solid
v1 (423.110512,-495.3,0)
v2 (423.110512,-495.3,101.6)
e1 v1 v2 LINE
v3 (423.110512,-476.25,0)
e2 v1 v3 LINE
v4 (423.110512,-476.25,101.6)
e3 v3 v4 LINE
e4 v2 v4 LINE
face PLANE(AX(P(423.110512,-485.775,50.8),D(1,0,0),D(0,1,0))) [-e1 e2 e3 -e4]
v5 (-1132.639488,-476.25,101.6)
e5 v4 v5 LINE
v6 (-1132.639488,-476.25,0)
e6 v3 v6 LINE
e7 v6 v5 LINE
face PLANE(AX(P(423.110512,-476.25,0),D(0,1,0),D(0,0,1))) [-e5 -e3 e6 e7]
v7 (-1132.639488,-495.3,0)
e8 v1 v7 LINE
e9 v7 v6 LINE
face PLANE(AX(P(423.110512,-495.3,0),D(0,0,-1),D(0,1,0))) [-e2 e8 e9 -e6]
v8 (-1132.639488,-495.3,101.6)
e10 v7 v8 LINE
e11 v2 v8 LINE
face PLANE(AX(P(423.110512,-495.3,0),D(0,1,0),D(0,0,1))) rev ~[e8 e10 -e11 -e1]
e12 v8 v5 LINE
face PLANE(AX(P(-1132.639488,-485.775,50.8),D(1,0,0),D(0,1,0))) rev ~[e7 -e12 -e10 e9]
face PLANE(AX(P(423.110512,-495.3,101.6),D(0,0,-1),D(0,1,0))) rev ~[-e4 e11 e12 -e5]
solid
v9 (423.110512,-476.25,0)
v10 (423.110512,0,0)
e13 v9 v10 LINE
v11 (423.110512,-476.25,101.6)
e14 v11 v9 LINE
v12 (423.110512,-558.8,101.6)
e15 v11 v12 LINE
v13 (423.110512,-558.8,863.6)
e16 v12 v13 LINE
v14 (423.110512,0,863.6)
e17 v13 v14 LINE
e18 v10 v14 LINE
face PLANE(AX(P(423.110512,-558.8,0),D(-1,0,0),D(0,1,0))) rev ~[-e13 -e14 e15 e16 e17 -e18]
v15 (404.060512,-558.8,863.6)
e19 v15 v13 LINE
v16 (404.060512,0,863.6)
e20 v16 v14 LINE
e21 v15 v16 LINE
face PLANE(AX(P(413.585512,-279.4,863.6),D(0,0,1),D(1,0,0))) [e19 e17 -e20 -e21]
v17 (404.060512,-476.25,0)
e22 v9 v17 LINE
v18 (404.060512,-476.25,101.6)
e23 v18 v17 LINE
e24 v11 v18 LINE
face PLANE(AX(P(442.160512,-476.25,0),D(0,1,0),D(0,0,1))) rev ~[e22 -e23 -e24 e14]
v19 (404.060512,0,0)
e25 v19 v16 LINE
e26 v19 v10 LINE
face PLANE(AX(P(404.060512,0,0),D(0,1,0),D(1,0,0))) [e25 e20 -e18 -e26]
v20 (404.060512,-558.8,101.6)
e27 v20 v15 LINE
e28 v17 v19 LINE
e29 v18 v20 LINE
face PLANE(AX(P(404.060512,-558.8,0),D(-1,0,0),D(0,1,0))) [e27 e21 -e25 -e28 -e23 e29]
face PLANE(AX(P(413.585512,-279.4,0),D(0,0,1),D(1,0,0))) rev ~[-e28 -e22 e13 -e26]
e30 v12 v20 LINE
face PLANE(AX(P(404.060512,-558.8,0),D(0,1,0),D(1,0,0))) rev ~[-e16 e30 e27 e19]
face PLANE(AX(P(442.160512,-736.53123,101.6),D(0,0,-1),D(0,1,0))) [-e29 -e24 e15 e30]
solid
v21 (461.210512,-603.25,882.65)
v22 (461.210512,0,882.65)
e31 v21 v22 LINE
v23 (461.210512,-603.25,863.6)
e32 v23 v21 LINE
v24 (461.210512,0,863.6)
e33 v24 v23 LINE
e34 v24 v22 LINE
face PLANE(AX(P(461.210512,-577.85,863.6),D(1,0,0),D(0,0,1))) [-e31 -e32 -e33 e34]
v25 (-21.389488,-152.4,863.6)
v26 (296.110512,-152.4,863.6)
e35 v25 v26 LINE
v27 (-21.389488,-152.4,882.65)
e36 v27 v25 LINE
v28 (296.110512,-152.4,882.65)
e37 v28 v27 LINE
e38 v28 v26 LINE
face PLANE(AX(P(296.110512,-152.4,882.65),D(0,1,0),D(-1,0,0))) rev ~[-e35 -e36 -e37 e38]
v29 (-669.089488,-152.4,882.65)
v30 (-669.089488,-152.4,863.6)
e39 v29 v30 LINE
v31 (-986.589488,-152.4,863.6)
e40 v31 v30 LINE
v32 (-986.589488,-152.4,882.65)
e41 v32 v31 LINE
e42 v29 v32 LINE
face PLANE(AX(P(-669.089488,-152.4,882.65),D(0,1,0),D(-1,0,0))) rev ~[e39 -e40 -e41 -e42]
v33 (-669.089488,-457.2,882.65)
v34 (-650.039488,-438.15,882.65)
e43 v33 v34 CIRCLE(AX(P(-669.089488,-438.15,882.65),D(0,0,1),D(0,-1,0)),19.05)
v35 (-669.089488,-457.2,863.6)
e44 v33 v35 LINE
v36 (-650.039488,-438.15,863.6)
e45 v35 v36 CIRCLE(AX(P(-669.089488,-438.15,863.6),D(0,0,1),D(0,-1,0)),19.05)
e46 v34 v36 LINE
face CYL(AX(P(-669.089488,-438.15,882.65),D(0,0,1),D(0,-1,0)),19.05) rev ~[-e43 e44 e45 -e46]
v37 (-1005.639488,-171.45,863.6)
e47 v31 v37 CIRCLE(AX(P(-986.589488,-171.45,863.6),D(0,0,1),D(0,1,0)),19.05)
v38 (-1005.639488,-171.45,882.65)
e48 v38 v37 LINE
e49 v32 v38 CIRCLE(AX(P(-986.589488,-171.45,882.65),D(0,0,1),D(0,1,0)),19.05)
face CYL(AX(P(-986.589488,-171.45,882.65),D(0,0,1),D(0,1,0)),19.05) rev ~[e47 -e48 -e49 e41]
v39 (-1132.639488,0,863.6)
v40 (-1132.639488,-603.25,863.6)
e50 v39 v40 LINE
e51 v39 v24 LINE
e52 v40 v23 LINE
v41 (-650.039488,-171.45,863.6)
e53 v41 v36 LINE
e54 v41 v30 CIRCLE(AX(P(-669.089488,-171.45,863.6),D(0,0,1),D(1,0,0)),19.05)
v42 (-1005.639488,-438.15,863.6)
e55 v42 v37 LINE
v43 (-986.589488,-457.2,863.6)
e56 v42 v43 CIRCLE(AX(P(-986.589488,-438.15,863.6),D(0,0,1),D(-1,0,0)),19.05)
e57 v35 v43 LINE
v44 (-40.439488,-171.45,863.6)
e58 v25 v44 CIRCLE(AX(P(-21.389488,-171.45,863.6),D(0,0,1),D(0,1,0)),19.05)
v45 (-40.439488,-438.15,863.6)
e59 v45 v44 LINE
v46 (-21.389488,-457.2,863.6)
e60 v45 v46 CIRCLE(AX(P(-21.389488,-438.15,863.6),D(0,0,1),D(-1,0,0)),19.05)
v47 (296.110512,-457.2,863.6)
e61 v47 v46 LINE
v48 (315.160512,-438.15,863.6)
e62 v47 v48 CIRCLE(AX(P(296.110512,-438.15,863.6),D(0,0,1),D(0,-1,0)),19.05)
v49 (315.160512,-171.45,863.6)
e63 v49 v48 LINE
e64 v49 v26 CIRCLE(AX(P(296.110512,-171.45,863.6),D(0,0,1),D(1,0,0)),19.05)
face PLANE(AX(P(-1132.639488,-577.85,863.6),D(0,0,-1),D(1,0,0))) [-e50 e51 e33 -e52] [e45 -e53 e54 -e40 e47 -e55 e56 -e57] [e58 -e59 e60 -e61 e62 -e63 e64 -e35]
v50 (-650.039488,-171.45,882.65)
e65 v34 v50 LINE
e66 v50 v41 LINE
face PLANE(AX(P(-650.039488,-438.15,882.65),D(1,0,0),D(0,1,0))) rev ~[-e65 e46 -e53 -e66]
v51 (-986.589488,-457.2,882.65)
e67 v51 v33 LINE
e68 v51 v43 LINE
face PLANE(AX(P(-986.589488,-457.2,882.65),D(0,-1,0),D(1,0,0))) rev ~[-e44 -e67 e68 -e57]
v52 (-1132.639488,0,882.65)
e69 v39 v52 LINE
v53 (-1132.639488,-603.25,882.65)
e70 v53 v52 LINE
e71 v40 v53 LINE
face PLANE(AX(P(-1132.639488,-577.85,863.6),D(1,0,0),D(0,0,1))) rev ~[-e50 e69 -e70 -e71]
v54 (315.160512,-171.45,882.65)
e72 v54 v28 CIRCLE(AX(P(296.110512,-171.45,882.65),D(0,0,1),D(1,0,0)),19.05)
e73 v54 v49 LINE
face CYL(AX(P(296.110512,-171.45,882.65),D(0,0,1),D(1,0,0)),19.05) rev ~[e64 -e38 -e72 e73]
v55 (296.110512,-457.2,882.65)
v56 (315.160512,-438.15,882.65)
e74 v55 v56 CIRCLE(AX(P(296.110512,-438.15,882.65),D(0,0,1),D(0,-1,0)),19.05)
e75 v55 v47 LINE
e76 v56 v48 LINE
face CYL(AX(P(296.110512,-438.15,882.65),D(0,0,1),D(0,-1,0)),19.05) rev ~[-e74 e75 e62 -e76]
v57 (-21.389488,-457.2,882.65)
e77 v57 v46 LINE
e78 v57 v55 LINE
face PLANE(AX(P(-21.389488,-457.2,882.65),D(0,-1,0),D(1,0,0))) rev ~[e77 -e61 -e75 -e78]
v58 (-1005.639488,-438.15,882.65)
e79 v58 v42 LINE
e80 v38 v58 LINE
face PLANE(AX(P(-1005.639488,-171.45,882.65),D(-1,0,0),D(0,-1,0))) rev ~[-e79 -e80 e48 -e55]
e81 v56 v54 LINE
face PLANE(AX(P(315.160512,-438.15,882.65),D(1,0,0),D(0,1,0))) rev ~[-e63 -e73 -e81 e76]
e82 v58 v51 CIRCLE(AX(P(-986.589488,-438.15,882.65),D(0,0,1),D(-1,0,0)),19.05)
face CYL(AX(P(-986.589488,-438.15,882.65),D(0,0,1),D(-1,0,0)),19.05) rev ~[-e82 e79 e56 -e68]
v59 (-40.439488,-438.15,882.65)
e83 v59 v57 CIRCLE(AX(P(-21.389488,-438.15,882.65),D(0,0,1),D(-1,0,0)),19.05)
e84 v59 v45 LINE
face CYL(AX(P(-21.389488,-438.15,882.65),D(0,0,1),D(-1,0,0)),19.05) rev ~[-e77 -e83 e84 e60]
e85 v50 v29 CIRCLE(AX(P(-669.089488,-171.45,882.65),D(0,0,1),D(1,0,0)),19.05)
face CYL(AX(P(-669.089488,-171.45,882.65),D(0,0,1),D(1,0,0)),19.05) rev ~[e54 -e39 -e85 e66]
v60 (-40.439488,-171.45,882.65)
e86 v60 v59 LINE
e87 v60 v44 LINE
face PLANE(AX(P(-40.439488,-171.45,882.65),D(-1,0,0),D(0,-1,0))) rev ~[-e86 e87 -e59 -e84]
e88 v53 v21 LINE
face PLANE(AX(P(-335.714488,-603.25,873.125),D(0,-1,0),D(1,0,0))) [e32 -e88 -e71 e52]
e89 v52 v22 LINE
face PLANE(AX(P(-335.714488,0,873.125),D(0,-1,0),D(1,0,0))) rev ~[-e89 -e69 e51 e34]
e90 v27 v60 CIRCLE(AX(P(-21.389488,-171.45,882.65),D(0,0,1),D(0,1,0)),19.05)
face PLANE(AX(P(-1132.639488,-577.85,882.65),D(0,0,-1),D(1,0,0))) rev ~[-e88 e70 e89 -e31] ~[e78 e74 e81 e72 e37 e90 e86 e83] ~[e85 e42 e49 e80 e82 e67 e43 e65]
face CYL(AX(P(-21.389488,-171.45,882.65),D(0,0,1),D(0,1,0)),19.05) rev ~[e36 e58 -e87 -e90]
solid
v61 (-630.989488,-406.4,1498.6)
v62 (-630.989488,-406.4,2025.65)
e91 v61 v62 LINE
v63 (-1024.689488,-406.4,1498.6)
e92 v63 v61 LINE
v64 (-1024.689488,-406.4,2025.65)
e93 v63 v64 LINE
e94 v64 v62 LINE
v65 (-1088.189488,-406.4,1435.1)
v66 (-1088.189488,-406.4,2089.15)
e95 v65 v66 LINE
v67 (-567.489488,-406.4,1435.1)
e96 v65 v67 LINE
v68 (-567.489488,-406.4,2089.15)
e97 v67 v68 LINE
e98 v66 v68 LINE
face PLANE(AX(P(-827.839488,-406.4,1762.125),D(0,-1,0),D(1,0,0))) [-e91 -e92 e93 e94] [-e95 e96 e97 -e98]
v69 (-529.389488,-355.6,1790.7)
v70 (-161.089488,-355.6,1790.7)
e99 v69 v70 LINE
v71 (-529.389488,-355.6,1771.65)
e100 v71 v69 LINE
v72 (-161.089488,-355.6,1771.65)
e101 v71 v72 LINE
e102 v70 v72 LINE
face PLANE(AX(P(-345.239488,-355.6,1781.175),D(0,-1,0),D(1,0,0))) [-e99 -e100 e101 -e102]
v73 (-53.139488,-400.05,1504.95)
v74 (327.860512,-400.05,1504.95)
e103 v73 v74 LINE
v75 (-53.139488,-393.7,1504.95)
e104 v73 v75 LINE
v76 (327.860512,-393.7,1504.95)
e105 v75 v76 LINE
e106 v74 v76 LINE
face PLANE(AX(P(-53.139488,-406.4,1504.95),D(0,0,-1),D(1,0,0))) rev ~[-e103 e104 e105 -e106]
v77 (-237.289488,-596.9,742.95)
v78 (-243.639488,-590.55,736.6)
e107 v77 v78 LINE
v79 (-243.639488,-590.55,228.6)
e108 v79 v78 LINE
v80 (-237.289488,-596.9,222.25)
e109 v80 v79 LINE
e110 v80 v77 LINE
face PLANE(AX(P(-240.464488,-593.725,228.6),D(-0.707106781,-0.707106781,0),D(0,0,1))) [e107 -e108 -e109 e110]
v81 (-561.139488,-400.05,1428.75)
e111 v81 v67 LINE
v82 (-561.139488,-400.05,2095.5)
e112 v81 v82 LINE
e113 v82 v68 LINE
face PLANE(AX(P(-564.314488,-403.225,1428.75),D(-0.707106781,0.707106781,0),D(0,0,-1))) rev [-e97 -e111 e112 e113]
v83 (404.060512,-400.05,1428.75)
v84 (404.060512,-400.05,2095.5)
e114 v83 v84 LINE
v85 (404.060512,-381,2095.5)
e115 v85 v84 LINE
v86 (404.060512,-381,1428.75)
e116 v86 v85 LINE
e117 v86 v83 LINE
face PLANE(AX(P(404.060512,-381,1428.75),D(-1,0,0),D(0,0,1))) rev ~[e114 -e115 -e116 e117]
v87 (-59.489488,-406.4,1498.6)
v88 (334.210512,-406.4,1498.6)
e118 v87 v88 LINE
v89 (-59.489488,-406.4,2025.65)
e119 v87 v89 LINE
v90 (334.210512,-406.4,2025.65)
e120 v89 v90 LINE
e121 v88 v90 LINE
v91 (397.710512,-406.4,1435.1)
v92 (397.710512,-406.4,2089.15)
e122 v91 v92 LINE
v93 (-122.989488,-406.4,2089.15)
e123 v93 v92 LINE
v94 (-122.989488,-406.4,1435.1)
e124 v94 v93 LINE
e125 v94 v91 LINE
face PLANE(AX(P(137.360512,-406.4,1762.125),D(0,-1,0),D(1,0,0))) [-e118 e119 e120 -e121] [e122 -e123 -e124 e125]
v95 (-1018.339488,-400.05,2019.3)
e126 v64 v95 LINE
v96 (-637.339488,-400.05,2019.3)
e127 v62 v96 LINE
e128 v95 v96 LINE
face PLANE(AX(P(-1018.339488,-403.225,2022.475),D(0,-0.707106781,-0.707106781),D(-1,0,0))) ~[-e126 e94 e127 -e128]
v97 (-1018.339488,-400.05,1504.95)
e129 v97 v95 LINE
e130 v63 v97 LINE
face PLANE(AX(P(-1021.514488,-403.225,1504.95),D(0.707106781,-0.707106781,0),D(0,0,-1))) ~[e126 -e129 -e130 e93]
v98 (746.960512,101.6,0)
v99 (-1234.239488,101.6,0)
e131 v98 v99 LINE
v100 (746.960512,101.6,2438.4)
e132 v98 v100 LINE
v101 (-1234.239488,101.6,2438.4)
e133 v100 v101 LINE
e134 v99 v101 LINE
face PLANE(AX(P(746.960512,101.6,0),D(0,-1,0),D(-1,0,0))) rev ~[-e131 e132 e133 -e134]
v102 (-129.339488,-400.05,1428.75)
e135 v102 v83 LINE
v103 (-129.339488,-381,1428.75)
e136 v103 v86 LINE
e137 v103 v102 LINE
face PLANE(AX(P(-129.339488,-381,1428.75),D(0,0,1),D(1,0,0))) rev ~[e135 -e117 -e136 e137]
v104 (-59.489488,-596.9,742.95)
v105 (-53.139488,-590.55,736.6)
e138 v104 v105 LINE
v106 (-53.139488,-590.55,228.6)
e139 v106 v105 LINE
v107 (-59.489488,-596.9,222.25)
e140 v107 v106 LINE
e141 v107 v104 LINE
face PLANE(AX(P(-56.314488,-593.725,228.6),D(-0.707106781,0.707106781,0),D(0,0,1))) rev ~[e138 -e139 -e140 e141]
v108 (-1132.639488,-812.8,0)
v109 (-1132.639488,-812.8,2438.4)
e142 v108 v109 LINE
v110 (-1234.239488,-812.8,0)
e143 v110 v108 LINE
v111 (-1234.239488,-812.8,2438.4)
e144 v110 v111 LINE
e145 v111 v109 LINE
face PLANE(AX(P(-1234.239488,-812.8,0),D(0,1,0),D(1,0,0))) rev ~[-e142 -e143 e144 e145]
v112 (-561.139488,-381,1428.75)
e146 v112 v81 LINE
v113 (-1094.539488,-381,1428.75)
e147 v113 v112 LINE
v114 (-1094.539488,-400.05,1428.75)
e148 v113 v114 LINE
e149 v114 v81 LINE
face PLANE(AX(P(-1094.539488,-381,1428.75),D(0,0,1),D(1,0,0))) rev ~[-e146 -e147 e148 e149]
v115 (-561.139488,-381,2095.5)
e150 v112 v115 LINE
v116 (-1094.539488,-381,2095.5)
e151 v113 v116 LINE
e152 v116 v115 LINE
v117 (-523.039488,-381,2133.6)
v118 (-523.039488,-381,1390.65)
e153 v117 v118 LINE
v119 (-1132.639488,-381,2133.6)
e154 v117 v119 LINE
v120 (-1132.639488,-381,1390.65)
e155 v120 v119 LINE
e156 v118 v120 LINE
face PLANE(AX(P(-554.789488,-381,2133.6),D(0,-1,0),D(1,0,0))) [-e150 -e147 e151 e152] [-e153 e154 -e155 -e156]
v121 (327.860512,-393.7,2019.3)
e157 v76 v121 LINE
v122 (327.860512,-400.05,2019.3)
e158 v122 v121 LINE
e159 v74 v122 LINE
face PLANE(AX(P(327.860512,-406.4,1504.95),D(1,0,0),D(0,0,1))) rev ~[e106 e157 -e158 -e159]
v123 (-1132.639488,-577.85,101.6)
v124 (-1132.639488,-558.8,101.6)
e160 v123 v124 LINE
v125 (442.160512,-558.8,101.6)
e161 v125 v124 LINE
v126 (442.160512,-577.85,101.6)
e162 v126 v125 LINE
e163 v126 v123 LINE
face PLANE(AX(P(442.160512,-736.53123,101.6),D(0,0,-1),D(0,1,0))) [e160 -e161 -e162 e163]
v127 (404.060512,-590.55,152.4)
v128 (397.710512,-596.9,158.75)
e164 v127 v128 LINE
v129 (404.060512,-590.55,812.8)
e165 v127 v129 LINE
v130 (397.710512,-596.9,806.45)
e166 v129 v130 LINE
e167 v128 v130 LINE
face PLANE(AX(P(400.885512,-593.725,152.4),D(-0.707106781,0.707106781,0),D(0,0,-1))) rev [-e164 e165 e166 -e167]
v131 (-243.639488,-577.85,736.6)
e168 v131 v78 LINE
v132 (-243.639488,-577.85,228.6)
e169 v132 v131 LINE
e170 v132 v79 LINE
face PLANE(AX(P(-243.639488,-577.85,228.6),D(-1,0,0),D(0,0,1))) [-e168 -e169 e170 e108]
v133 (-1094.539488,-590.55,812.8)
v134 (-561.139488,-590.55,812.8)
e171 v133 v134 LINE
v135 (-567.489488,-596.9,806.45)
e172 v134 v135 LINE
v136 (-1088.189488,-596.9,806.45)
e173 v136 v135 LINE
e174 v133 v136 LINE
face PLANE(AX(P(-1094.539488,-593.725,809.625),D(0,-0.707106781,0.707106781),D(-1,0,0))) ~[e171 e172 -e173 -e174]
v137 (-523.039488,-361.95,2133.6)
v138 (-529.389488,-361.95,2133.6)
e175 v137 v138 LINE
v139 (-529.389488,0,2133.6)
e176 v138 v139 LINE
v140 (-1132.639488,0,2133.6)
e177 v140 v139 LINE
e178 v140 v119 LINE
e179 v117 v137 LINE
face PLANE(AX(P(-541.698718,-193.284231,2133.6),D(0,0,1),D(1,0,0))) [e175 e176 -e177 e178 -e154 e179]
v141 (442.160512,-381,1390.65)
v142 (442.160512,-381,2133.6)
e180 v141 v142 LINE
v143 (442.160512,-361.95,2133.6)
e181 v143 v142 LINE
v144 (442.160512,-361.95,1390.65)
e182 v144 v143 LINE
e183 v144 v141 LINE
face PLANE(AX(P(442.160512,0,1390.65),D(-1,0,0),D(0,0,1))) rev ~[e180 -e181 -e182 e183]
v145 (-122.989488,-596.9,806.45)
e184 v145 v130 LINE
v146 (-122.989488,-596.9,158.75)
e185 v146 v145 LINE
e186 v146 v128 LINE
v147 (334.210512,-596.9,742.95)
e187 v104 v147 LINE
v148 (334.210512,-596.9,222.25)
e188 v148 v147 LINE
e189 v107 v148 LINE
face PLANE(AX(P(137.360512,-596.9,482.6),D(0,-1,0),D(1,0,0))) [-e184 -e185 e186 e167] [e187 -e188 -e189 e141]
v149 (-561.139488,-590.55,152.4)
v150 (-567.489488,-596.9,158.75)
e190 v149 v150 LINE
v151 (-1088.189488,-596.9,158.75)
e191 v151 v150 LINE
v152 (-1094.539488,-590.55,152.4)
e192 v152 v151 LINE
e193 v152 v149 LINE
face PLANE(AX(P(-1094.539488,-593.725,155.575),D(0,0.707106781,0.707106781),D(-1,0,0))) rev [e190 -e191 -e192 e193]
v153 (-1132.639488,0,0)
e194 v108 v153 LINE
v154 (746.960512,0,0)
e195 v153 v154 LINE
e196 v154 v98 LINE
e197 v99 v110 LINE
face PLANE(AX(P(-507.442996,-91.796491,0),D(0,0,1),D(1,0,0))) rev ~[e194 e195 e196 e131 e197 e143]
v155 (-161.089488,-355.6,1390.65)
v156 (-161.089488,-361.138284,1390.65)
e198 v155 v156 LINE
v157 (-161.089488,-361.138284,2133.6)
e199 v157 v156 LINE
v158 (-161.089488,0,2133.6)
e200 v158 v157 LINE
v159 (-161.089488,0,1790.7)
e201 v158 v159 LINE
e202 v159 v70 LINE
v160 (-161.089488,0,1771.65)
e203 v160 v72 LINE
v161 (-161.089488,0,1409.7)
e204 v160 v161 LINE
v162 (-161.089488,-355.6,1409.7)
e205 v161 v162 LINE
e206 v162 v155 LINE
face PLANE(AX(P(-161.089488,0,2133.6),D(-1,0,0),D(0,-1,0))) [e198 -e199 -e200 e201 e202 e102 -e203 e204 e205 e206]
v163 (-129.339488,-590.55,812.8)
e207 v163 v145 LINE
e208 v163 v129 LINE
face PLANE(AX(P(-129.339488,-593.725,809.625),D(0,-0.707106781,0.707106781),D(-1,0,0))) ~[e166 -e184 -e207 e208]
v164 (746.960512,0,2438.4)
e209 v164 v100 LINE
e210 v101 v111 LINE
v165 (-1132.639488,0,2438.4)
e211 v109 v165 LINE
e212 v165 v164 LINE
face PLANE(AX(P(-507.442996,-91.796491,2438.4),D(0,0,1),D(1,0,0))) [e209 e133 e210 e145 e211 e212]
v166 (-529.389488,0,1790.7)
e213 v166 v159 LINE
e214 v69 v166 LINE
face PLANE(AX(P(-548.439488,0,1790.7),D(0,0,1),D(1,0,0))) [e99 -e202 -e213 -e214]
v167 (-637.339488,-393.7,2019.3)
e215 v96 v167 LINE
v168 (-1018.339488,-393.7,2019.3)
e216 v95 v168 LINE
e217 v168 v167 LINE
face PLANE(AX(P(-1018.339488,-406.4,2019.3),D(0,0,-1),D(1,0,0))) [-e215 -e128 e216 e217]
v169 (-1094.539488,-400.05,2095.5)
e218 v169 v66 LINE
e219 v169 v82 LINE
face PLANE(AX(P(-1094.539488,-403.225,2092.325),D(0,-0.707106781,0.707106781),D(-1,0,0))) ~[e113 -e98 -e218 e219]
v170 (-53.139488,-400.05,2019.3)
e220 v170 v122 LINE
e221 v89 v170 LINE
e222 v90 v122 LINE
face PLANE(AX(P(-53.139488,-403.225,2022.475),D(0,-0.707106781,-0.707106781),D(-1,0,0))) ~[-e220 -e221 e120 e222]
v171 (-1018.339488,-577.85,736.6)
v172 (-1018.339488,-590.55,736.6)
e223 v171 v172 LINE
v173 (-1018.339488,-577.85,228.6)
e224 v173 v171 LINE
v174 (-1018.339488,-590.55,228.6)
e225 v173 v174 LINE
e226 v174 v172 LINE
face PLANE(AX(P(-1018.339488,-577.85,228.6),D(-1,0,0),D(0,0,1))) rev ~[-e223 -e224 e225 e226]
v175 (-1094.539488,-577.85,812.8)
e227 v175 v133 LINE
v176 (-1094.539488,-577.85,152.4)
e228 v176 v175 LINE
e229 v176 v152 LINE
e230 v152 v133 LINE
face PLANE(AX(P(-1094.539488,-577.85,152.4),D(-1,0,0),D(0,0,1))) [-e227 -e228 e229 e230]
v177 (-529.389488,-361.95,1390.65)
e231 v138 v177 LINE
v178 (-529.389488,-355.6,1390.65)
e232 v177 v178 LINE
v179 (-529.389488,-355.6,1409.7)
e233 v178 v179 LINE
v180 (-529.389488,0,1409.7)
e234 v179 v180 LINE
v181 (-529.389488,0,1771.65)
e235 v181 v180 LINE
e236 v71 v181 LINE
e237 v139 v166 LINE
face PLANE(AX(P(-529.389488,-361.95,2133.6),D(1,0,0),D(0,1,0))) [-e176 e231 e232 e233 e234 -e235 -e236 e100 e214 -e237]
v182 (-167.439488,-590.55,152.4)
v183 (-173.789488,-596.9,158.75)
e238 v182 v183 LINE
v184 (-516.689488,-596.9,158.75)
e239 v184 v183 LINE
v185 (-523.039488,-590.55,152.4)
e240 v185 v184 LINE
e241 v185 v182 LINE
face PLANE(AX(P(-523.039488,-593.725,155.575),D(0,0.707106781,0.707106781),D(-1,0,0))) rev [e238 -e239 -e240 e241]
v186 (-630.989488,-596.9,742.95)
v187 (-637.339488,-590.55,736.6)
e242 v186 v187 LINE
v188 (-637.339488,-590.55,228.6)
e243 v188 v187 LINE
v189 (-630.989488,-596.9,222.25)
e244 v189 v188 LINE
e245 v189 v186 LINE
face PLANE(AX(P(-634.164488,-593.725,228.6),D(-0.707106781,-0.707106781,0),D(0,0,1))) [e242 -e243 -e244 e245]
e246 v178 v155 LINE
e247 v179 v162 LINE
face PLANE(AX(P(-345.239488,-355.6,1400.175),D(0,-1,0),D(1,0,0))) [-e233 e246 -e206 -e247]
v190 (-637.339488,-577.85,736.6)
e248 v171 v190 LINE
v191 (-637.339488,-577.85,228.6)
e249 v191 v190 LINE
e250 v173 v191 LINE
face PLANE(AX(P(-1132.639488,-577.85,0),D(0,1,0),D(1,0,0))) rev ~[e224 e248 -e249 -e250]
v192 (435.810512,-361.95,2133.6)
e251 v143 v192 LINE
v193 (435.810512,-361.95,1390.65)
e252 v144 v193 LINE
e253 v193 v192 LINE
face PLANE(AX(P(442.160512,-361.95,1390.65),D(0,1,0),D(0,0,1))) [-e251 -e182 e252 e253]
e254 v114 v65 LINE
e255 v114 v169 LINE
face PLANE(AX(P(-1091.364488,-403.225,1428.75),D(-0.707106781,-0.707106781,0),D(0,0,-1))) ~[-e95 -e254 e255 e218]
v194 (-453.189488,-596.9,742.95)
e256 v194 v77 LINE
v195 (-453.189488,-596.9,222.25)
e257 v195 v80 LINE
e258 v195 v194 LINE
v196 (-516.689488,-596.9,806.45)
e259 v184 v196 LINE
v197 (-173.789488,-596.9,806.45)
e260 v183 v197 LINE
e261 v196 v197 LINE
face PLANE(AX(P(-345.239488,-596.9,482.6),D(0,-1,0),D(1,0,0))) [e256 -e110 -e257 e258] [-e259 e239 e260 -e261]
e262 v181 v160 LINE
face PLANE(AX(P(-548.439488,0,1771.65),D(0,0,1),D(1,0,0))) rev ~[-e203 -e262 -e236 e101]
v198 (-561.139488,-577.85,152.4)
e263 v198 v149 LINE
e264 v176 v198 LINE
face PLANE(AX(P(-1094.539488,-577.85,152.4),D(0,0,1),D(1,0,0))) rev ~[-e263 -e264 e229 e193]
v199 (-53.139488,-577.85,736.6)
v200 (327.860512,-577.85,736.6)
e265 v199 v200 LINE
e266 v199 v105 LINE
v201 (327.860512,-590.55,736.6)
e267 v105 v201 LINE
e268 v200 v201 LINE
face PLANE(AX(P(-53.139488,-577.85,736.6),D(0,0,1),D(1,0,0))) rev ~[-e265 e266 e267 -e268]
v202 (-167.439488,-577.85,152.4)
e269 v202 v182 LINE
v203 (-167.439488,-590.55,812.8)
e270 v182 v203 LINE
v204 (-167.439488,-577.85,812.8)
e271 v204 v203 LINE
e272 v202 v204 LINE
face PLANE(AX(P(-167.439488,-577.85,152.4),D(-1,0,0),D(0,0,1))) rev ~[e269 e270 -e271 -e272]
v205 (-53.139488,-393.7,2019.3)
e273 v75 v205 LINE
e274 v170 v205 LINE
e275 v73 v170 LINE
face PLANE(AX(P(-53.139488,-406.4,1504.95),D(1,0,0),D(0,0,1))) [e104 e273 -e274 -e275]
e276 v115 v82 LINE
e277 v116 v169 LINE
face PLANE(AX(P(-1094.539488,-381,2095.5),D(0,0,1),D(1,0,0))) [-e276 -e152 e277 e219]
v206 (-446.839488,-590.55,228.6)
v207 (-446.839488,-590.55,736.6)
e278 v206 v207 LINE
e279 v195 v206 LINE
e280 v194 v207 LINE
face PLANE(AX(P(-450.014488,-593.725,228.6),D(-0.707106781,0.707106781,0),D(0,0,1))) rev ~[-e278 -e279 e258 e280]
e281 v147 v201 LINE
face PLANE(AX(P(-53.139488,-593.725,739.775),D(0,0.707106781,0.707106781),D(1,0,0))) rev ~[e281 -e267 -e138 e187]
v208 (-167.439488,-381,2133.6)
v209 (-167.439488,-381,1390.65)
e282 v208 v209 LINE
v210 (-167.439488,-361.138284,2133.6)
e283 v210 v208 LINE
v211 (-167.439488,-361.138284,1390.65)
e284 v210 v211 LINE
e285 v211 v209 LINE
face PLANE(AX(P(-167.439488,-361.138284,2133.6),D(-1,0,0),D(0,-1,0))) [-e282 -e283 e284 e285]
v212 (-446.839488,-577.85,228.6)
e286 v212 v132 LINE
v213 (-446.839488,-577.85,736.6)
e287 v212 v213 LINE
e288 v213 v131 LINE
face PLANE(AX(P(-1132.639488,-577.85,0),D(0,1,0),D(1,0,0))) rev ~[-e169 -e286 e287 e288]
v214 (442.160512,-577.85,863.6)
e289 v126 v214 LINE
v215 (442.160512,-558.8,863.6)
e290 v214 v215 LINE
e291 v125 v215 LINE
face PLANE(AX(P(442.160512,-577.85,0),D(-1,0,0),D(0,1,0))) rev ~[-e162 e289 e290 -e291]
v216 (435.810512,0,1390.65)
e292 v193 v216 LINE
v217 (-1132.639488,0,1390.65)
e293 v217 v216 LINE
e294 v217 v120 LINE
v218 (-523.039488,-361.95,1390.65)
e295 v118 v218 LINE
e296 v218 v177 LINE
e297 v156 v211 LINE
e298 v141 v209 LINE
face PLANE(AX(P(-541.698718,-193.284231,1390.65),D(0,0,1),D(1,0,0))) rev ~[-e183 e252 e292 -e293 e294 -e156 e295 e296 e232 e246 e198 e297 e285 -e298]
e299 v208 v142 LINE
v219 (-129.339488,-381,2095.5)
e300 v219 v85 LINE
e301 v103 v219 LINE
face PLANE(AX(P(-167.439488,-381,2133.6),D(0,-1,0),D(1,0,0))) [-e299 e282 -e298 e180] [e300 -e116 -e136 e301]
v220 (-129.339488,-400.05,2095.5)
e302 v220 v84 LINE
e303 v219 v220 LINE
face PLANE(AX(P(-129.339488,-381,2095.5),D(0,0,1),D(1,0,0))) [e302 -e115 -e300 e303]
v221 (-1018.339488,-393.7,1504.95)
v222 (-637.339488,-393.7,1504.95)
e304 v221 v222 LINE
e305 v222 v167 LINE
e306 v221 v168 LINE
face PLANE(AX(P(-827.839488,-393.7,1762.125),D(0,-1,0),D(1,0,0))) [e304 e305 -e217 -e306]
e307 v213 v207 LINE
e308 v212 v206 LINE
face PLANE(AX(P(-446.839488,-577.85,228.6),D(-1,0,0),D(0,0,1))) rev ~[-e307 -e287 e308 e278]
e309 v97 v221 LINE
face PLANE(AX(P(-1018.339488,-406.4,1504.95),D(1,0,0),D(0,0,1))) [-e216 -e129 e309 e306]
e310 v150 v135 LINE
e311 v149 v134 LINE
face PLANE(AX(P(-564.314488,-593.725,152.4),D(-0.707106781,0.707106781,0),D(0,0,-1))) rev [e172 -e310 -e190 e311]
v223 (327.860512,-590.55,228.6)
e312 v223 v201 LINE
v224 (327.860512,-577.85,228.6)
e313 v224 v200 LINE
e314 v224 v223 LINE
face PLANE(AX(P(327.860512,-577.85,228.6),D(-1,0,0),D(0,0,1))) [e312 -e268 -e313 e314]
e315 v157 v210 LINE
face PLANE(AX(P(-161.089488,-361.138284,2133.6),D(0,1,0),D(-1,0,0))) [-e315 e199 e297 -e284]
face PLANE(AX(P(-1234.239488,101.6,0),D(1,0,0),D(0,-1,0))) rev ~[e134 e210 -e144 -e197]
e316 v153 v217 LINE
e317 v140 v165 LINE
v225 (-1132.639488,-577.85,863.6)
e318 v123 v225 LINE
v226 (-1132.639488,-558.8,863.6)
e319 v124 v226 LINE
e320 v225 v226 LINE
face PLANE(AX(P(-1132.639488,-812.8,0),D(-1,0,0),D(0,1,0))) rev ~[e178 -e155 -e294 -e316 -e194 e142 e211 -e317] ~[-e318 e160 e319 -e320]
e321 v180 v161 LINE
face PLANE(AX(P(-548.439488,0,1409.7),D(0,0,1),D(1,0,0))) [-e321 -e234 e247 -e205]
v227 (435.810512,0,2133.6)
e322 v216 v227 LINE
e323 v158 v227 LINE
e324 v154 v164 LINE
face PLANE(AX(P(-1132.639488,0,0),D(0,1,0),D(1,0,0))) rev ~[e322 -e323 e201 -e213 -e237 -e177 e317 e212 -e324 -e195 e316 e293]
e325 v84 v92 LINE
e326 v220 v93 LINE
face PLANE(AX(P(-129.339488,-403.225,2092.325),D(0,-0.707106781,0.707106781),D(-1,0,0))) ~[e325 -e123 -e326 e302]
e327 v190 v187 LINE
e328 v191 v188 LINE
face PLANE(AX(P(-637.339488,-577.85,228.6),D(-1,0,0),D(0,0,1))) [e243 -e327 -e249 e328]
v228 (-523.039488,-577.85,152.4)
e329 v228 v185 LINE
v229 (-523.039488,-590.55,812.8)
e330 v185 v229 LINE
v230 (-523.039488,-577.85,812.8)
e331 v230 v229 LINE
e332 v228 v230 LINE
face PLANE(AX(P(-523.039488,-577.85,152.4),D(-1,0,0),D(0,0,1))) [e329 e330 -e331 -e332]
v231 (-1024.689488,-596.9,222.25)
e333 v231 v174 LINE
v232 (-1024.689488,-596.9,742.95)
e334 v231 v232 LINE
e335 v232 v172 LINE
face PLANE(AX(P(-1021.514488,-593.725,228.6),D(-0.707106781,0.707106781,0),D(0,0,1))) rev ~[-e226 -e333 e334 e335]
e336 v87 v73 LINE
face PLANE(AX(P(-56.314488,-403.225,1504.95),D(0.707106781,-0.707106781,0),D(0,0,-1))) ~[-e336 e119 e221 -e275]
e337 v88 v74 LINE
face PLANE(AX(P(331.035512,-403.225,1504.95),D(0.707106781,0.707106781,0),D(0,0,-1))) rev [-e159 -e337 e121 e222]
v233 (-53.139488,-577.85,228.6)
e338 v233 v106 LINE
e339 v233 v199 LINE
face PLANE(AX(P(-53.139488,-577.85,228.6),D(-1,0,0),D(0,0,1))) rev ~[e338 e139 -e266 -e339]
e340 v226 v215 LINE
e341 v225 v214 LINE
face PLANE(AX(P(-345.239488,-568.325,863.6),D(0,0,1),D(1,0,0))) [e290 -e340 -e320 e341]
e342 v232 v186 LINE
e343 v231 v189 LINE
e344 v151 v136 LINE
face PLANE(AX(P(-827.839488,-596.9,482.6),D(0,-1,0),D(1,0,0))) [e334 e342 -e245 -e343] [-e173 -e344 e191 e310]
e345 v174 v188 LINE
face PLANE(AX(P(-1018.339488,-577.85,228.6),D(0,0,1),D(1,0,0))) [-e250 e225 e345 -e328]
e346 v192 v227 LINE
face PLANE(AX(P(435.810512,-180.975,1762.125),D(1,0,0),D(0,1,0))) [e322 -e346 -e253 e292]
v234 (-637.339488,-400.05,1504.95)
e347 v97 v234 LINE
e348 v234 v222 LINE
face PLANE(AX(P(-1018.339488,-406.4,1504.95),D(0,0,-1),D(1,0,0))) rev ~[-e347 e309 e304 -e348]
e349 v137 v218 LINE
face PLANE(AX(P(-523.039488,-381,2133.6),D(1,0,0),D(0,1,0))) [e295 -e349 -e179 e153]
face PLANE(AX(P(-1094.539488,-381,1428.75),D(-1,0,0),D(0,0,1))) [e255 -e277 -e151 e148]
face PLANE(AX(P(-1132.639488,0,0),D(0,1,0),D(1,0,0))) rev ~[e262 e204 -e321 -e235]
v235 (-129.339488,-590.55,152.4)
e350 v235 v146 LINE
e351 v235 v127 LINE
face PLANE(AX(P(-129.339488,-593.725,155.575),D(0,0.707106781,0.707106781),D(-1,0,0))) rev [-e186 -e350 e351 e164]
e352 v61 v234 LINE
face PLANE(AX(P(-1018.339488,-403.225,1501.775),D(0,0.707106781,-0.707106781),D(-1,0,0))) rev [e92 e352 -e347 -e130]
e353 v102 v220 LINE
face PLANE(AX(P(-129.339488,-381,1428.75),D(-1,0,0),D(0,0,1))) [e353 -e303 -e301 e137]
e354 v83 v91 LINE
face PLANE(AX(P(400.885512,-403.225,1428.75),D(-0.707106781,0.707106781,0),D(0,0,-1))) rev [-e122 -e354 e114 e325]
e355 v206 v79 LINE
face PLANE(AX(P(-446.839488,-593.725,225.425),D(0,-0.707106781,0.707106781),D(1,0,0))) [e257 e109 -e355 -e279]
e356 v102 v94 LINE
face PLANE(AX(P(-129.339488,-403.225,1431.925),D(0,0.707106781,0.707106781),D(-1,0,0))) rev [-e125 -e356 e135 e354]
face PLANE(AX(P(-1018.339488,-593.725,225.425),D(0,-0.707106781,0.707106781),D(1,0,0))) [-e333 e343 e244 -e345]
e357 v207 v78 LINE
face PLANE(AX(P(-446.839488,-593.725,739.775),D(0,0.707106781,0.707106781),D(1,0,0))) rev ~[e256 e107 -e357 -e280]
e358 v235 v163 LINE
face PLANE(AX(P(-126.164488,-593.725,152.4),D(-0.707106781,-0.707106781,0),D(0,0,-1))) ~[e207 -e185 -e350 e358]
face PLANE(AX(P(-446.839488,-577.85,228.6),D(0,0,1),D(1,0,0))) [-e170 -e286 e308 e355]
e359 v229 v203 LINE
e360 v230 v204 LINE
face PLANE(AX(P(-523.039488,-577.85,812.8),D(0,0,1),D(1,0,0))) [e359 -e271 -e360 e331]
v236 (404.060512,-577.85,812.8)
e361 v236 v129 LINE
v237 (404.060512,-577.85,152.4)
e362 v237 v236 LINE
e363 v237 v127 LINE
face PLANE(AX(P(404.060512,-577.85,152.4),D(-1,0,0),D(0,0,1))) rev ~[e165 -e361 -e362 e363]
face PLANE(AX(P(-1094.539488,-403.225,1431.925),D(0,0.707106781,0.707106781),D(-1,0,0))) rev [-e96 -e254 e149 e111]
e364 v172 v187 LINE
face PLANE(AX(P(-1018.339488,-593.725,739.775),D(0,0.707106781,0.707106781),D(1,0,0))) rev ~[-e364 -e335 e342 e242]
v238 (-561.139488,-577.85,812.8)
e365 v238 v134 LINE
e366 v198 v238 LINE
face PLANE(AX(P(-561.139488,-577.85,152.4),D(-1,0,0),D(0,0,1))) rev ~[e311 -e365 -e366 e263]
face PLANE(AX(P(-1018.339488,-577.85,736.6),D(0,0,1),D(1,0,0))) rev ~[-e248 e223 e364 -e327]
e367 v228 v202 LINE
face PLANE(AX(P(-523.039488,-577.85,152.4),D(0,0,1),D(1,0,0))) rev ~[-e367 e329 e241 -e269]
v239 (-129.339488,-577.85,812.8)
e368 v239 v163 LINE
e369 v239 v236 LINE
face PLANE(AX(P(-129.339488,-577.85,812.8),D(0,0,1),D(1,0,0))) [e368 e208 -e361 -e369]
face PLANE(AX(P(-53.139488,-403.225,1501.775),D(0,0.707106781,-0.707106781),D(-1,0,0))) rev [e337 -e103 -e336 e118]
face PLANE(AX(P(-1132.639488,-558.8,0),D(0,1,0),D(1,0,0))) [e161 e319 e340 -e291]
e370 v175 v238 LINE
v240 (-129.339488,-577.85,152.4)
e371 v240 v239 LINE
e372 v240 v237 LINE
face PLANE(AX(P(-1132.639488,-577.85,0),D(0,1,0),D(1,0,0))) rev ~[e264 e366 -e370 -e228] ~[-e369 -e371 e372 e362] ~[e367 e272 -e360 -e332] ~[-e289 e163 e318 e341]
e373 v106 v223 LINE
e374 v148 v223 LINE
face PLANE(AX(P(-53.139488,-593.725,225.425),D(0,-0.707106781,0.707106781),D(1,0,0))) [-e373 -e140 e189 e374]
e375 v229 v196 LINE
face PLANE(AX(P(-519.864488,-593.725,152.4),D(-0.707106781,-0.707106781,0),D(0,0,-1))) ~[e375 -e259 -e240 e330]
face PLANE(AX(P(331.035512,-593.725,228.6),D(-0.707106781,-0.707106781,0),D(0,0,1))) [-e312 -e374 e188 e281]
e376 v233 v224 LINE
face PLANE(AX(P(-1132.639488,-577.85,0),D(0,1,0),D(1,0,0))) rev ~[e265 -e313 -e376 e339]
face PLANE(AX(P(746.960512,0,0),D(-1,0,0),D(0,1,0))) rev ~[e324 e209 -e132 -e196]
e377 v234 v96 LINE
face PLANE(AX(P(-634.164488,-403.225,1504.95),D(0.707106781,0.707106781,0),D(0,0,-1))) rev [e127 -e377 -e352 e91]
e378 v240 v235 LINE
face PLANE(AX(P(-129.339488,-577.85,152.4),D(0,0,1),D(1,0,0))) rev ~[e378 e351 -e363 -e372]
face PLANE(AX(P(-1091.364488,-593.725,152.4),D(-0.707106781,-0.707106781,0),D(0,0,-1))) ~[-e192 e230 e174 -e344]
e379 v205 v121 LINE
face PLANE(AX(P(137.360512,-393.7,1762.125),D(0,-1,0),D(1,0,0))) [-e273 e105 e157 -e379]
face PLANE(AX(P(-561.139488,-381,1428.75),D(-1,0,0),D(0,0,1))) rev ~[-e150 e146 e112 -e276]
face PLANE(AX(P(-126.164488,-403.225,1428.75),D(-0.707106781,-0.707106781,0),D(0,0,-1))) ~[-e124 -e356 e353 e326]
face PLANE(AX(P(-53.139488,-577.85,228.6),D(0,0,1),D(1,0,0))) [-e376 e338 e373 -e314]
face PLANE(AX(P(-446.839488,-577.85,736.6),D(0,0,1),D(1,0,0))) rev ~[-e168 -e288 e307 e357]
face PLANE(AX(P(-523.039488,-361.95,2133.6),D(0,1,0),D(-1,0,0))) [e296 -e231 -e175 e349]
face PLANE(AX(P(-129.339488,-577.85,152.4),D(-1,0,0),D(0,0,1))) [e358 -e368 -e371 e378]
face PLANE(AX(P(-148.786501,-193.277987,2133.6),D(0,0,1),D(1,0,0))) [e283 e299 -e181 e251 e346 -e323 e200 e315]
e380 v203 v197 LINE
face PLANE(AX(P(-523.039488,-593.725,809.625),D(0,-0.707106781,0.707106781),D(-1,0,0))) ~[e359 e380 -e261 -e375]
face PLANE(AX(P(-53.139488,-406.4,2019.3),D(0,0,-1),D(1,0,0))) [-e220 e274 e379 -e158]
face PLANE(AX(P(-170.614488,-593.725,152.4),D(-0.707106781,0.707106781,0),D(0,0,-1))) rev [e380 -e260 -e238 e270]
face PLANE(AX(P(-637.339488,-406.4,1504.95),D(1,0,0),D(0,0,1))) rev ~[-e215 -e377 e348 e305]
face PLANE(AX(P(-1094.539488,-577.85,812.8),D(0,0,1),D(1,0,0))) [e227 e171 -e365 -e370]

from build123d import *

# Parameters (mm, degrees)
F1_DEPTH      = 2438.4
F2_W          = 1574.8
F2_H          = 19.05
F3_DEPTH      = 863.6
F4_W          = 19.05
F4_H          = 558.8
F5_DEPTH      = 863.6
F6_W          = 1593.85
F6_H          = 19.05
F7_DEPTH      = 25.4
F7_DEPTH_BACK = 577.85
F9_DEPTH      = 25.4
F10_W         = 533.4
F10_H         = 660.4
F10_W_2       = 381
F10_H_2       = 508
F10_W_3       = 355.6
F10_W_4       = 203.2
F11_DEPTH     = 19.05
F12_SIZE      = 6.35
F13_SIZE      = 6.35
F14_W         = 260.281230233
F14_H         = 101.6
F15_DEPTH     = 1574.8
F16_W         = 19.05
F16_H         = 101.6
F17_DEPTH     = 1555.75
F19_W         = 584.2
F19_H         = 742.95
F20_DEPTH     = 381
F21_W         = 406.4
F21_H         = 19.05
F22_DEPTH     = 355.6
F23_W         = 533.4
F23_H         = 666.75
F24_DEPTH     = 25.4
F25_W         = 381
F25_H         = 514.35
F26_DEPTH     = 12.7
F27_SIZE      = 6.35
F28_W         = 361.95
F28_H         = 742.95
F29_DEPTH     = 6.35
F30_W         = 361.95
F30_H         = 743.0462871552
F31_DEPTH     = 6.35
F32_W         = 6.35
F32_H         = 361.1382842064
F33_DEPTH     = 762
F35_DEPTH     = 742.95


with BuildPart() as f1:
    # F0 (on Top) → F1 (new body)
    with BuildSketch(Plane.XY):
        Polygon((-1132.639487573, -812.8), (-1132.639487573, 0), (746.960512427, 0), (746.960512427, 101.6), (-1234.239487573, 101.6), (-1234.239487573, -812.8), align=None)
    extrude(amount=F1_DEPTH)

    # F2 (on Top) → F3 (join)
    with BuildSketch(Plane.XY):
        with Locations((-345.239487573, -568.325)):
            Rectangle(F2_W, F2_H)
    extrude(amount=F3_DEPTH)

    # F10 (on face) → F11 (join)
    with BuildSketch(Plane.XZ.offset(577.85)):
        with Locations((-827.839487573, 482.6)):
            Rectangle(F10_W, F10_H)
        with Locations((-827.839487573, 482.6)):
            Rectangle(F10_W_2, F10_H_2, mode=Mode.SUBTRACT)
        with Locations((-345.239487573, 482.6)):
            Rectangle(F10_W_3, F10_H)
        with Locations((-345.239487573, 482.6)):
            Rectangle(F10_W_4, F10_H_2, mode=Mode.SUBTRACT)
        with Locations((137.360512427, 482.6)):
            Rectangle(F10_W, F10_H)
        with Locations((137.360512427, 482.6)):
            Rectangle(F10_W_2, F10_H_2, mode=Mode.SUBTRACT)
    extrude(amount=F11_DEPTH)

    # F12
    f12_edges = [f1.edges().sort_by_distance(p)[0] for p in [
        (-827.839488, -596.9, 812.8),
        (-561.139488, -596.9, 482.6),
        (-827.839488, -596.9, 152.4),
        (-1094.539488, -596.9, 482.6),
        (-345.239488, -596.9, 812.8),
        (-523.039488, -596.9, 482.6),
        (-345.239488, -596.9, 152.4),
        (-167.439488, -596.9, 482.6),
        (137.360512, -596.9, 812.8),
        (-129.339488, -596.9, 482.6),
        (404.060512, -596.9, 482.6),
        (137.360512, -596.9, 152.4),
    ]]
    chamfer(f12_edges, length=F12_SIZE)

    # F13
    f13_edges = [f1.edges().sort_by_distance(p)[0] for p in [
        (-827.839488, -596.9, 736.6),
        (-637.339488, -596.9, 482.6),
        (-1018.339488, -596.9, 482.6),
        (-827.839488, -596.9, 228.6),
        (-446.839488, -596.9, 482.6),
        (-243.639488, -596.9, 482.6),
        (-345.239488, -596.9, 736.6),
        (-345.239488, -596.9, 228.6),
        (137.360512, -596.9, 228.6),
        (-53.139488, -596.9, 482.6),
        (327.860512, -596.9, 482.6),
        (137.360512, -596.9, 736.6),
    ]]
    chamfer(f13_edges, length=F13_SIZE)


with BuildPart() as f5:
    # F4 (on Top) → F5 (new body)
    with BuildSketch(Plane.XY):
        with Locations((413.585512427, -279.4)):
            Rectangle(F4_W, F4_H)
    extrude(amount=F5_DEPTH)


with BuildPart() as f7:
    # F6 (on face) → F7 (new body, two sides)
    with BuildSketch(Plane.XZ.offset(577.85)) as f7_sk:
        with Locations((-335.714487573, 873.125)):
            Rectangle(F6_W, F6_H)
    extrude(amount=F7_DEPTH)
    extrude(f7_sk.sketch, amount=-F7_DEPTH_BACK)

    # F8 (on face) → F9 (cut)
    with BuildSketch(Plane.XY.offset(882.65)):
        with BuildLine():
            Line((-669.089487573, -152.4), (-986.589487573, -152.4))
            ThreePointArc((-986.589487573, -152.4), (-1000.0598717546, -157.9796158184), (-1005.639487573, -171.45))
            Line((-1005.639487573, -171.45), (-1005.639487573, -438.15))
            ThreePointArc((-1005.639487573, -438.15), (-1000.0598717546, -451.6203841816), (-986.589487573, -457.2))
            Line((-986.589487573, -457.2), (-669.089487573, -457.2))
            ThreePointArc((-669.089487573, -457.2), (-655.6191033914, -451.6203841816), (-650.039487573, -438.15))
            Line((-650.039487573, -438.15), (-650.039487573, -171.45))
            ThreePointArc((-650.039487573, -171.45), (-655.6191033914, -157.9796158184), (-669.089487573, -152.4))
        make_face()
        with BuildLine():
            Line((296.110512427, -152.4), (-21.389487573, -152.4))
            ThreePointArc((-21.389487573, -152.4), (-34.8598717546, -157.9796158184), (-40.439487573, -171.45))
            Line((-40.439487573, -171.45), (-40.439487573, -438.15))
            ThreePointArc((-40.439487573, -438.15), (-34.8598717546, -451.6203841816), (-21.389487573, -457.2))
            Line((-21.389487573, -457.2), (296.110512427, -457.2))
            ThreePointArc((296.110512427, -457.2), (309.5808966086, -451.6203841816), (315.160512427, -438.15))
            Line((315.160512427, -438.15), (315.160512427, -171.45))
            ThreePointArc((315.160512427, -171.45), (309.5808966086, -157.9796158184), (296.110512427, -152.4))
        make_face()
    extrude(amount=-F9_DEPTH, mode=Mode.SUBTRACT)


with BuildPart() as f15_tool:
    # F14 (on face) → F15 (new body, through all)
    with BuildSketch(Plane.YZ.offset(442.160512427)):
        with Locations((-606.3906151165, 50.8)):
            Rectangle(F14_W, F14_H)
    extrude(amount=-F15_DEPTH)


with BuildPart() as f1_1:
    add(f1.part)

    # F15: cut by f15_tool
    add(f15_tool.part, mode=Mode.SUBTRACT)

    # F19 (on face) → F20 (join)
    with BuildSketch(Plane.XZ):
        with Locations((-840.539487573, 1762.125)):
            Rectangle(F19_W, F19_H)
        with Locations((150.060512427, 1762.125)):
            Rectangle(F19_W, F19_H)
    extrude(amount=F20_DEPTH)

    # F21 (on face) → F22 (join)
    with BuildSketch(Plane.XZ):
        with Locations((-345.239487573, 1400.175)):
            Rectangle(F21_W, F21_H)
        with Locations((-345.239487573, 1781.175)):
            Rectangle(F21_W, F21_H)
    extrude(amount=F22_DEPTH)

    # F23 (on face) → F24 (join)
    with BuildSketch(Plane.XZ.offset(381)):
        with Locations((-827.839487573, 1762.125)):
            Rectangle(F23_W, F23_H)
        with Locations((137.360512427, 1762.125)):
            Rectangle(F23_W, F23_H)
    extrude(amount=F24_DEPTH)

    # F25 (on face) → F26 (cut)
    with BuildSketch(Plane.XZ.offset(406.4)):
        with Locations((-827.839487573, 1762.125)):
            Rectangle(F25_W, F25_H)
        with Locations((137.360512427, 1762.125)):
            Rectangle(F25_W, F25_H)
    extrude(amount=-F26_DEPTH, mode=Mode.SUBTRACT)

    # F27
    f27_edges = [f1_1.edges().sort_by_distance(p)[0] for p in [
        (-827.839488, -406.4, 2019.3),
        (-637.339488, -406.4, 1762.125),
        (-827.839488, -406.4, 1504.95),
        (-1018.339488, -406.4, 1762.125),
        (137.360512, -406.4, 1504.95),
        (137.360512, -406.4, 2019.3),
        (327.860512, -406.4, 1762.125),
        (-53.139488, -406.4, 1762.125),
        (-129.339488, -406.4, 1762.125),
        (137.360512, -406.4, 1428.75),
        (404.060512, -406.4, 1762.125),
        (137.360512, -406.4, 2095.5),
        (-827.839488, -406.4, 2095.5),
        (-561.139488, -406.4, 1762.125),
        (-827.839488, -406.4, 1428.75),
        (-1094.539488, -406.4, 1762.125),
    ]]
    chamfer(f27_edges, length=F27_SIZE)

    # F28 (on face) → F29 (cut)
    with BuildSketch(Plane.YZ.offset(442.160512427)):
        with Locations((-180.975, 1762.125)):
            Rectangle(F28_W, F28_H)
    extrude(amount=-F29_DEPTH, mode=Mode.SUBTRACT)

    # F30 (on face) → F31 (cut)
    with BuildSketch(Plane.YZ.offset(-548.439487573)):
        with Locations((-180.975, 1762.0768564224)):
            Rectangle(F30_W, F30_H)
    extrude(amount=-F31_DEPTH, mode=Mode.SUBTRACT)

    # F32 (on face) → F33 (cut)
    with BuildSketch(Plane.XY.offset(2133.6)):
        with Locations((-138.864487573, -180.5691421032)):
            Rectangle(F32_W, F32_H)
    extrude(amount=-F33_DEPTH, mode=Mode.SUBTRACT)

    # F34 (on face) → F35 (join, through all)
    with BuildSketch(Plane.XY.offset(2133.6)):
        Polygon((-529.389487573, 0), (-554.789487573, 0), (-554.789487573, -381), (-523.039487573, -381), (-523.039487573, -361.95), (-529.389487573, -361.95), align=None)
        Polygon((-135.689487573, -381), (-135.689487573, 0), (-161.089487573, 0), (-161.089487573, -361.1382842064), (-167.439487573, -361.1382842064), (-167.439487573, -381), align=None)
    extrude(amount=-F35_DEPTH)


with BuildPart() as f5_1:
    add(f5.part)

    # F15: cut by f15_tool
    add(f15_tool.part, mode=Mode.SUBTRACT)


with BuildPart() as f17:
    # F16 (on face) → F17 (new body, through all)
    with BuildSketch(Plane.YZ.offset(423.110512427)):
        with Locations((-485.775, 50.8)):
            Rectangle(F16_W, F16_H)
    extrude(amount=-F17_DEPTH)


solid = Compound([f7.part, f1_1.part, f5_1.part, f17.part])
